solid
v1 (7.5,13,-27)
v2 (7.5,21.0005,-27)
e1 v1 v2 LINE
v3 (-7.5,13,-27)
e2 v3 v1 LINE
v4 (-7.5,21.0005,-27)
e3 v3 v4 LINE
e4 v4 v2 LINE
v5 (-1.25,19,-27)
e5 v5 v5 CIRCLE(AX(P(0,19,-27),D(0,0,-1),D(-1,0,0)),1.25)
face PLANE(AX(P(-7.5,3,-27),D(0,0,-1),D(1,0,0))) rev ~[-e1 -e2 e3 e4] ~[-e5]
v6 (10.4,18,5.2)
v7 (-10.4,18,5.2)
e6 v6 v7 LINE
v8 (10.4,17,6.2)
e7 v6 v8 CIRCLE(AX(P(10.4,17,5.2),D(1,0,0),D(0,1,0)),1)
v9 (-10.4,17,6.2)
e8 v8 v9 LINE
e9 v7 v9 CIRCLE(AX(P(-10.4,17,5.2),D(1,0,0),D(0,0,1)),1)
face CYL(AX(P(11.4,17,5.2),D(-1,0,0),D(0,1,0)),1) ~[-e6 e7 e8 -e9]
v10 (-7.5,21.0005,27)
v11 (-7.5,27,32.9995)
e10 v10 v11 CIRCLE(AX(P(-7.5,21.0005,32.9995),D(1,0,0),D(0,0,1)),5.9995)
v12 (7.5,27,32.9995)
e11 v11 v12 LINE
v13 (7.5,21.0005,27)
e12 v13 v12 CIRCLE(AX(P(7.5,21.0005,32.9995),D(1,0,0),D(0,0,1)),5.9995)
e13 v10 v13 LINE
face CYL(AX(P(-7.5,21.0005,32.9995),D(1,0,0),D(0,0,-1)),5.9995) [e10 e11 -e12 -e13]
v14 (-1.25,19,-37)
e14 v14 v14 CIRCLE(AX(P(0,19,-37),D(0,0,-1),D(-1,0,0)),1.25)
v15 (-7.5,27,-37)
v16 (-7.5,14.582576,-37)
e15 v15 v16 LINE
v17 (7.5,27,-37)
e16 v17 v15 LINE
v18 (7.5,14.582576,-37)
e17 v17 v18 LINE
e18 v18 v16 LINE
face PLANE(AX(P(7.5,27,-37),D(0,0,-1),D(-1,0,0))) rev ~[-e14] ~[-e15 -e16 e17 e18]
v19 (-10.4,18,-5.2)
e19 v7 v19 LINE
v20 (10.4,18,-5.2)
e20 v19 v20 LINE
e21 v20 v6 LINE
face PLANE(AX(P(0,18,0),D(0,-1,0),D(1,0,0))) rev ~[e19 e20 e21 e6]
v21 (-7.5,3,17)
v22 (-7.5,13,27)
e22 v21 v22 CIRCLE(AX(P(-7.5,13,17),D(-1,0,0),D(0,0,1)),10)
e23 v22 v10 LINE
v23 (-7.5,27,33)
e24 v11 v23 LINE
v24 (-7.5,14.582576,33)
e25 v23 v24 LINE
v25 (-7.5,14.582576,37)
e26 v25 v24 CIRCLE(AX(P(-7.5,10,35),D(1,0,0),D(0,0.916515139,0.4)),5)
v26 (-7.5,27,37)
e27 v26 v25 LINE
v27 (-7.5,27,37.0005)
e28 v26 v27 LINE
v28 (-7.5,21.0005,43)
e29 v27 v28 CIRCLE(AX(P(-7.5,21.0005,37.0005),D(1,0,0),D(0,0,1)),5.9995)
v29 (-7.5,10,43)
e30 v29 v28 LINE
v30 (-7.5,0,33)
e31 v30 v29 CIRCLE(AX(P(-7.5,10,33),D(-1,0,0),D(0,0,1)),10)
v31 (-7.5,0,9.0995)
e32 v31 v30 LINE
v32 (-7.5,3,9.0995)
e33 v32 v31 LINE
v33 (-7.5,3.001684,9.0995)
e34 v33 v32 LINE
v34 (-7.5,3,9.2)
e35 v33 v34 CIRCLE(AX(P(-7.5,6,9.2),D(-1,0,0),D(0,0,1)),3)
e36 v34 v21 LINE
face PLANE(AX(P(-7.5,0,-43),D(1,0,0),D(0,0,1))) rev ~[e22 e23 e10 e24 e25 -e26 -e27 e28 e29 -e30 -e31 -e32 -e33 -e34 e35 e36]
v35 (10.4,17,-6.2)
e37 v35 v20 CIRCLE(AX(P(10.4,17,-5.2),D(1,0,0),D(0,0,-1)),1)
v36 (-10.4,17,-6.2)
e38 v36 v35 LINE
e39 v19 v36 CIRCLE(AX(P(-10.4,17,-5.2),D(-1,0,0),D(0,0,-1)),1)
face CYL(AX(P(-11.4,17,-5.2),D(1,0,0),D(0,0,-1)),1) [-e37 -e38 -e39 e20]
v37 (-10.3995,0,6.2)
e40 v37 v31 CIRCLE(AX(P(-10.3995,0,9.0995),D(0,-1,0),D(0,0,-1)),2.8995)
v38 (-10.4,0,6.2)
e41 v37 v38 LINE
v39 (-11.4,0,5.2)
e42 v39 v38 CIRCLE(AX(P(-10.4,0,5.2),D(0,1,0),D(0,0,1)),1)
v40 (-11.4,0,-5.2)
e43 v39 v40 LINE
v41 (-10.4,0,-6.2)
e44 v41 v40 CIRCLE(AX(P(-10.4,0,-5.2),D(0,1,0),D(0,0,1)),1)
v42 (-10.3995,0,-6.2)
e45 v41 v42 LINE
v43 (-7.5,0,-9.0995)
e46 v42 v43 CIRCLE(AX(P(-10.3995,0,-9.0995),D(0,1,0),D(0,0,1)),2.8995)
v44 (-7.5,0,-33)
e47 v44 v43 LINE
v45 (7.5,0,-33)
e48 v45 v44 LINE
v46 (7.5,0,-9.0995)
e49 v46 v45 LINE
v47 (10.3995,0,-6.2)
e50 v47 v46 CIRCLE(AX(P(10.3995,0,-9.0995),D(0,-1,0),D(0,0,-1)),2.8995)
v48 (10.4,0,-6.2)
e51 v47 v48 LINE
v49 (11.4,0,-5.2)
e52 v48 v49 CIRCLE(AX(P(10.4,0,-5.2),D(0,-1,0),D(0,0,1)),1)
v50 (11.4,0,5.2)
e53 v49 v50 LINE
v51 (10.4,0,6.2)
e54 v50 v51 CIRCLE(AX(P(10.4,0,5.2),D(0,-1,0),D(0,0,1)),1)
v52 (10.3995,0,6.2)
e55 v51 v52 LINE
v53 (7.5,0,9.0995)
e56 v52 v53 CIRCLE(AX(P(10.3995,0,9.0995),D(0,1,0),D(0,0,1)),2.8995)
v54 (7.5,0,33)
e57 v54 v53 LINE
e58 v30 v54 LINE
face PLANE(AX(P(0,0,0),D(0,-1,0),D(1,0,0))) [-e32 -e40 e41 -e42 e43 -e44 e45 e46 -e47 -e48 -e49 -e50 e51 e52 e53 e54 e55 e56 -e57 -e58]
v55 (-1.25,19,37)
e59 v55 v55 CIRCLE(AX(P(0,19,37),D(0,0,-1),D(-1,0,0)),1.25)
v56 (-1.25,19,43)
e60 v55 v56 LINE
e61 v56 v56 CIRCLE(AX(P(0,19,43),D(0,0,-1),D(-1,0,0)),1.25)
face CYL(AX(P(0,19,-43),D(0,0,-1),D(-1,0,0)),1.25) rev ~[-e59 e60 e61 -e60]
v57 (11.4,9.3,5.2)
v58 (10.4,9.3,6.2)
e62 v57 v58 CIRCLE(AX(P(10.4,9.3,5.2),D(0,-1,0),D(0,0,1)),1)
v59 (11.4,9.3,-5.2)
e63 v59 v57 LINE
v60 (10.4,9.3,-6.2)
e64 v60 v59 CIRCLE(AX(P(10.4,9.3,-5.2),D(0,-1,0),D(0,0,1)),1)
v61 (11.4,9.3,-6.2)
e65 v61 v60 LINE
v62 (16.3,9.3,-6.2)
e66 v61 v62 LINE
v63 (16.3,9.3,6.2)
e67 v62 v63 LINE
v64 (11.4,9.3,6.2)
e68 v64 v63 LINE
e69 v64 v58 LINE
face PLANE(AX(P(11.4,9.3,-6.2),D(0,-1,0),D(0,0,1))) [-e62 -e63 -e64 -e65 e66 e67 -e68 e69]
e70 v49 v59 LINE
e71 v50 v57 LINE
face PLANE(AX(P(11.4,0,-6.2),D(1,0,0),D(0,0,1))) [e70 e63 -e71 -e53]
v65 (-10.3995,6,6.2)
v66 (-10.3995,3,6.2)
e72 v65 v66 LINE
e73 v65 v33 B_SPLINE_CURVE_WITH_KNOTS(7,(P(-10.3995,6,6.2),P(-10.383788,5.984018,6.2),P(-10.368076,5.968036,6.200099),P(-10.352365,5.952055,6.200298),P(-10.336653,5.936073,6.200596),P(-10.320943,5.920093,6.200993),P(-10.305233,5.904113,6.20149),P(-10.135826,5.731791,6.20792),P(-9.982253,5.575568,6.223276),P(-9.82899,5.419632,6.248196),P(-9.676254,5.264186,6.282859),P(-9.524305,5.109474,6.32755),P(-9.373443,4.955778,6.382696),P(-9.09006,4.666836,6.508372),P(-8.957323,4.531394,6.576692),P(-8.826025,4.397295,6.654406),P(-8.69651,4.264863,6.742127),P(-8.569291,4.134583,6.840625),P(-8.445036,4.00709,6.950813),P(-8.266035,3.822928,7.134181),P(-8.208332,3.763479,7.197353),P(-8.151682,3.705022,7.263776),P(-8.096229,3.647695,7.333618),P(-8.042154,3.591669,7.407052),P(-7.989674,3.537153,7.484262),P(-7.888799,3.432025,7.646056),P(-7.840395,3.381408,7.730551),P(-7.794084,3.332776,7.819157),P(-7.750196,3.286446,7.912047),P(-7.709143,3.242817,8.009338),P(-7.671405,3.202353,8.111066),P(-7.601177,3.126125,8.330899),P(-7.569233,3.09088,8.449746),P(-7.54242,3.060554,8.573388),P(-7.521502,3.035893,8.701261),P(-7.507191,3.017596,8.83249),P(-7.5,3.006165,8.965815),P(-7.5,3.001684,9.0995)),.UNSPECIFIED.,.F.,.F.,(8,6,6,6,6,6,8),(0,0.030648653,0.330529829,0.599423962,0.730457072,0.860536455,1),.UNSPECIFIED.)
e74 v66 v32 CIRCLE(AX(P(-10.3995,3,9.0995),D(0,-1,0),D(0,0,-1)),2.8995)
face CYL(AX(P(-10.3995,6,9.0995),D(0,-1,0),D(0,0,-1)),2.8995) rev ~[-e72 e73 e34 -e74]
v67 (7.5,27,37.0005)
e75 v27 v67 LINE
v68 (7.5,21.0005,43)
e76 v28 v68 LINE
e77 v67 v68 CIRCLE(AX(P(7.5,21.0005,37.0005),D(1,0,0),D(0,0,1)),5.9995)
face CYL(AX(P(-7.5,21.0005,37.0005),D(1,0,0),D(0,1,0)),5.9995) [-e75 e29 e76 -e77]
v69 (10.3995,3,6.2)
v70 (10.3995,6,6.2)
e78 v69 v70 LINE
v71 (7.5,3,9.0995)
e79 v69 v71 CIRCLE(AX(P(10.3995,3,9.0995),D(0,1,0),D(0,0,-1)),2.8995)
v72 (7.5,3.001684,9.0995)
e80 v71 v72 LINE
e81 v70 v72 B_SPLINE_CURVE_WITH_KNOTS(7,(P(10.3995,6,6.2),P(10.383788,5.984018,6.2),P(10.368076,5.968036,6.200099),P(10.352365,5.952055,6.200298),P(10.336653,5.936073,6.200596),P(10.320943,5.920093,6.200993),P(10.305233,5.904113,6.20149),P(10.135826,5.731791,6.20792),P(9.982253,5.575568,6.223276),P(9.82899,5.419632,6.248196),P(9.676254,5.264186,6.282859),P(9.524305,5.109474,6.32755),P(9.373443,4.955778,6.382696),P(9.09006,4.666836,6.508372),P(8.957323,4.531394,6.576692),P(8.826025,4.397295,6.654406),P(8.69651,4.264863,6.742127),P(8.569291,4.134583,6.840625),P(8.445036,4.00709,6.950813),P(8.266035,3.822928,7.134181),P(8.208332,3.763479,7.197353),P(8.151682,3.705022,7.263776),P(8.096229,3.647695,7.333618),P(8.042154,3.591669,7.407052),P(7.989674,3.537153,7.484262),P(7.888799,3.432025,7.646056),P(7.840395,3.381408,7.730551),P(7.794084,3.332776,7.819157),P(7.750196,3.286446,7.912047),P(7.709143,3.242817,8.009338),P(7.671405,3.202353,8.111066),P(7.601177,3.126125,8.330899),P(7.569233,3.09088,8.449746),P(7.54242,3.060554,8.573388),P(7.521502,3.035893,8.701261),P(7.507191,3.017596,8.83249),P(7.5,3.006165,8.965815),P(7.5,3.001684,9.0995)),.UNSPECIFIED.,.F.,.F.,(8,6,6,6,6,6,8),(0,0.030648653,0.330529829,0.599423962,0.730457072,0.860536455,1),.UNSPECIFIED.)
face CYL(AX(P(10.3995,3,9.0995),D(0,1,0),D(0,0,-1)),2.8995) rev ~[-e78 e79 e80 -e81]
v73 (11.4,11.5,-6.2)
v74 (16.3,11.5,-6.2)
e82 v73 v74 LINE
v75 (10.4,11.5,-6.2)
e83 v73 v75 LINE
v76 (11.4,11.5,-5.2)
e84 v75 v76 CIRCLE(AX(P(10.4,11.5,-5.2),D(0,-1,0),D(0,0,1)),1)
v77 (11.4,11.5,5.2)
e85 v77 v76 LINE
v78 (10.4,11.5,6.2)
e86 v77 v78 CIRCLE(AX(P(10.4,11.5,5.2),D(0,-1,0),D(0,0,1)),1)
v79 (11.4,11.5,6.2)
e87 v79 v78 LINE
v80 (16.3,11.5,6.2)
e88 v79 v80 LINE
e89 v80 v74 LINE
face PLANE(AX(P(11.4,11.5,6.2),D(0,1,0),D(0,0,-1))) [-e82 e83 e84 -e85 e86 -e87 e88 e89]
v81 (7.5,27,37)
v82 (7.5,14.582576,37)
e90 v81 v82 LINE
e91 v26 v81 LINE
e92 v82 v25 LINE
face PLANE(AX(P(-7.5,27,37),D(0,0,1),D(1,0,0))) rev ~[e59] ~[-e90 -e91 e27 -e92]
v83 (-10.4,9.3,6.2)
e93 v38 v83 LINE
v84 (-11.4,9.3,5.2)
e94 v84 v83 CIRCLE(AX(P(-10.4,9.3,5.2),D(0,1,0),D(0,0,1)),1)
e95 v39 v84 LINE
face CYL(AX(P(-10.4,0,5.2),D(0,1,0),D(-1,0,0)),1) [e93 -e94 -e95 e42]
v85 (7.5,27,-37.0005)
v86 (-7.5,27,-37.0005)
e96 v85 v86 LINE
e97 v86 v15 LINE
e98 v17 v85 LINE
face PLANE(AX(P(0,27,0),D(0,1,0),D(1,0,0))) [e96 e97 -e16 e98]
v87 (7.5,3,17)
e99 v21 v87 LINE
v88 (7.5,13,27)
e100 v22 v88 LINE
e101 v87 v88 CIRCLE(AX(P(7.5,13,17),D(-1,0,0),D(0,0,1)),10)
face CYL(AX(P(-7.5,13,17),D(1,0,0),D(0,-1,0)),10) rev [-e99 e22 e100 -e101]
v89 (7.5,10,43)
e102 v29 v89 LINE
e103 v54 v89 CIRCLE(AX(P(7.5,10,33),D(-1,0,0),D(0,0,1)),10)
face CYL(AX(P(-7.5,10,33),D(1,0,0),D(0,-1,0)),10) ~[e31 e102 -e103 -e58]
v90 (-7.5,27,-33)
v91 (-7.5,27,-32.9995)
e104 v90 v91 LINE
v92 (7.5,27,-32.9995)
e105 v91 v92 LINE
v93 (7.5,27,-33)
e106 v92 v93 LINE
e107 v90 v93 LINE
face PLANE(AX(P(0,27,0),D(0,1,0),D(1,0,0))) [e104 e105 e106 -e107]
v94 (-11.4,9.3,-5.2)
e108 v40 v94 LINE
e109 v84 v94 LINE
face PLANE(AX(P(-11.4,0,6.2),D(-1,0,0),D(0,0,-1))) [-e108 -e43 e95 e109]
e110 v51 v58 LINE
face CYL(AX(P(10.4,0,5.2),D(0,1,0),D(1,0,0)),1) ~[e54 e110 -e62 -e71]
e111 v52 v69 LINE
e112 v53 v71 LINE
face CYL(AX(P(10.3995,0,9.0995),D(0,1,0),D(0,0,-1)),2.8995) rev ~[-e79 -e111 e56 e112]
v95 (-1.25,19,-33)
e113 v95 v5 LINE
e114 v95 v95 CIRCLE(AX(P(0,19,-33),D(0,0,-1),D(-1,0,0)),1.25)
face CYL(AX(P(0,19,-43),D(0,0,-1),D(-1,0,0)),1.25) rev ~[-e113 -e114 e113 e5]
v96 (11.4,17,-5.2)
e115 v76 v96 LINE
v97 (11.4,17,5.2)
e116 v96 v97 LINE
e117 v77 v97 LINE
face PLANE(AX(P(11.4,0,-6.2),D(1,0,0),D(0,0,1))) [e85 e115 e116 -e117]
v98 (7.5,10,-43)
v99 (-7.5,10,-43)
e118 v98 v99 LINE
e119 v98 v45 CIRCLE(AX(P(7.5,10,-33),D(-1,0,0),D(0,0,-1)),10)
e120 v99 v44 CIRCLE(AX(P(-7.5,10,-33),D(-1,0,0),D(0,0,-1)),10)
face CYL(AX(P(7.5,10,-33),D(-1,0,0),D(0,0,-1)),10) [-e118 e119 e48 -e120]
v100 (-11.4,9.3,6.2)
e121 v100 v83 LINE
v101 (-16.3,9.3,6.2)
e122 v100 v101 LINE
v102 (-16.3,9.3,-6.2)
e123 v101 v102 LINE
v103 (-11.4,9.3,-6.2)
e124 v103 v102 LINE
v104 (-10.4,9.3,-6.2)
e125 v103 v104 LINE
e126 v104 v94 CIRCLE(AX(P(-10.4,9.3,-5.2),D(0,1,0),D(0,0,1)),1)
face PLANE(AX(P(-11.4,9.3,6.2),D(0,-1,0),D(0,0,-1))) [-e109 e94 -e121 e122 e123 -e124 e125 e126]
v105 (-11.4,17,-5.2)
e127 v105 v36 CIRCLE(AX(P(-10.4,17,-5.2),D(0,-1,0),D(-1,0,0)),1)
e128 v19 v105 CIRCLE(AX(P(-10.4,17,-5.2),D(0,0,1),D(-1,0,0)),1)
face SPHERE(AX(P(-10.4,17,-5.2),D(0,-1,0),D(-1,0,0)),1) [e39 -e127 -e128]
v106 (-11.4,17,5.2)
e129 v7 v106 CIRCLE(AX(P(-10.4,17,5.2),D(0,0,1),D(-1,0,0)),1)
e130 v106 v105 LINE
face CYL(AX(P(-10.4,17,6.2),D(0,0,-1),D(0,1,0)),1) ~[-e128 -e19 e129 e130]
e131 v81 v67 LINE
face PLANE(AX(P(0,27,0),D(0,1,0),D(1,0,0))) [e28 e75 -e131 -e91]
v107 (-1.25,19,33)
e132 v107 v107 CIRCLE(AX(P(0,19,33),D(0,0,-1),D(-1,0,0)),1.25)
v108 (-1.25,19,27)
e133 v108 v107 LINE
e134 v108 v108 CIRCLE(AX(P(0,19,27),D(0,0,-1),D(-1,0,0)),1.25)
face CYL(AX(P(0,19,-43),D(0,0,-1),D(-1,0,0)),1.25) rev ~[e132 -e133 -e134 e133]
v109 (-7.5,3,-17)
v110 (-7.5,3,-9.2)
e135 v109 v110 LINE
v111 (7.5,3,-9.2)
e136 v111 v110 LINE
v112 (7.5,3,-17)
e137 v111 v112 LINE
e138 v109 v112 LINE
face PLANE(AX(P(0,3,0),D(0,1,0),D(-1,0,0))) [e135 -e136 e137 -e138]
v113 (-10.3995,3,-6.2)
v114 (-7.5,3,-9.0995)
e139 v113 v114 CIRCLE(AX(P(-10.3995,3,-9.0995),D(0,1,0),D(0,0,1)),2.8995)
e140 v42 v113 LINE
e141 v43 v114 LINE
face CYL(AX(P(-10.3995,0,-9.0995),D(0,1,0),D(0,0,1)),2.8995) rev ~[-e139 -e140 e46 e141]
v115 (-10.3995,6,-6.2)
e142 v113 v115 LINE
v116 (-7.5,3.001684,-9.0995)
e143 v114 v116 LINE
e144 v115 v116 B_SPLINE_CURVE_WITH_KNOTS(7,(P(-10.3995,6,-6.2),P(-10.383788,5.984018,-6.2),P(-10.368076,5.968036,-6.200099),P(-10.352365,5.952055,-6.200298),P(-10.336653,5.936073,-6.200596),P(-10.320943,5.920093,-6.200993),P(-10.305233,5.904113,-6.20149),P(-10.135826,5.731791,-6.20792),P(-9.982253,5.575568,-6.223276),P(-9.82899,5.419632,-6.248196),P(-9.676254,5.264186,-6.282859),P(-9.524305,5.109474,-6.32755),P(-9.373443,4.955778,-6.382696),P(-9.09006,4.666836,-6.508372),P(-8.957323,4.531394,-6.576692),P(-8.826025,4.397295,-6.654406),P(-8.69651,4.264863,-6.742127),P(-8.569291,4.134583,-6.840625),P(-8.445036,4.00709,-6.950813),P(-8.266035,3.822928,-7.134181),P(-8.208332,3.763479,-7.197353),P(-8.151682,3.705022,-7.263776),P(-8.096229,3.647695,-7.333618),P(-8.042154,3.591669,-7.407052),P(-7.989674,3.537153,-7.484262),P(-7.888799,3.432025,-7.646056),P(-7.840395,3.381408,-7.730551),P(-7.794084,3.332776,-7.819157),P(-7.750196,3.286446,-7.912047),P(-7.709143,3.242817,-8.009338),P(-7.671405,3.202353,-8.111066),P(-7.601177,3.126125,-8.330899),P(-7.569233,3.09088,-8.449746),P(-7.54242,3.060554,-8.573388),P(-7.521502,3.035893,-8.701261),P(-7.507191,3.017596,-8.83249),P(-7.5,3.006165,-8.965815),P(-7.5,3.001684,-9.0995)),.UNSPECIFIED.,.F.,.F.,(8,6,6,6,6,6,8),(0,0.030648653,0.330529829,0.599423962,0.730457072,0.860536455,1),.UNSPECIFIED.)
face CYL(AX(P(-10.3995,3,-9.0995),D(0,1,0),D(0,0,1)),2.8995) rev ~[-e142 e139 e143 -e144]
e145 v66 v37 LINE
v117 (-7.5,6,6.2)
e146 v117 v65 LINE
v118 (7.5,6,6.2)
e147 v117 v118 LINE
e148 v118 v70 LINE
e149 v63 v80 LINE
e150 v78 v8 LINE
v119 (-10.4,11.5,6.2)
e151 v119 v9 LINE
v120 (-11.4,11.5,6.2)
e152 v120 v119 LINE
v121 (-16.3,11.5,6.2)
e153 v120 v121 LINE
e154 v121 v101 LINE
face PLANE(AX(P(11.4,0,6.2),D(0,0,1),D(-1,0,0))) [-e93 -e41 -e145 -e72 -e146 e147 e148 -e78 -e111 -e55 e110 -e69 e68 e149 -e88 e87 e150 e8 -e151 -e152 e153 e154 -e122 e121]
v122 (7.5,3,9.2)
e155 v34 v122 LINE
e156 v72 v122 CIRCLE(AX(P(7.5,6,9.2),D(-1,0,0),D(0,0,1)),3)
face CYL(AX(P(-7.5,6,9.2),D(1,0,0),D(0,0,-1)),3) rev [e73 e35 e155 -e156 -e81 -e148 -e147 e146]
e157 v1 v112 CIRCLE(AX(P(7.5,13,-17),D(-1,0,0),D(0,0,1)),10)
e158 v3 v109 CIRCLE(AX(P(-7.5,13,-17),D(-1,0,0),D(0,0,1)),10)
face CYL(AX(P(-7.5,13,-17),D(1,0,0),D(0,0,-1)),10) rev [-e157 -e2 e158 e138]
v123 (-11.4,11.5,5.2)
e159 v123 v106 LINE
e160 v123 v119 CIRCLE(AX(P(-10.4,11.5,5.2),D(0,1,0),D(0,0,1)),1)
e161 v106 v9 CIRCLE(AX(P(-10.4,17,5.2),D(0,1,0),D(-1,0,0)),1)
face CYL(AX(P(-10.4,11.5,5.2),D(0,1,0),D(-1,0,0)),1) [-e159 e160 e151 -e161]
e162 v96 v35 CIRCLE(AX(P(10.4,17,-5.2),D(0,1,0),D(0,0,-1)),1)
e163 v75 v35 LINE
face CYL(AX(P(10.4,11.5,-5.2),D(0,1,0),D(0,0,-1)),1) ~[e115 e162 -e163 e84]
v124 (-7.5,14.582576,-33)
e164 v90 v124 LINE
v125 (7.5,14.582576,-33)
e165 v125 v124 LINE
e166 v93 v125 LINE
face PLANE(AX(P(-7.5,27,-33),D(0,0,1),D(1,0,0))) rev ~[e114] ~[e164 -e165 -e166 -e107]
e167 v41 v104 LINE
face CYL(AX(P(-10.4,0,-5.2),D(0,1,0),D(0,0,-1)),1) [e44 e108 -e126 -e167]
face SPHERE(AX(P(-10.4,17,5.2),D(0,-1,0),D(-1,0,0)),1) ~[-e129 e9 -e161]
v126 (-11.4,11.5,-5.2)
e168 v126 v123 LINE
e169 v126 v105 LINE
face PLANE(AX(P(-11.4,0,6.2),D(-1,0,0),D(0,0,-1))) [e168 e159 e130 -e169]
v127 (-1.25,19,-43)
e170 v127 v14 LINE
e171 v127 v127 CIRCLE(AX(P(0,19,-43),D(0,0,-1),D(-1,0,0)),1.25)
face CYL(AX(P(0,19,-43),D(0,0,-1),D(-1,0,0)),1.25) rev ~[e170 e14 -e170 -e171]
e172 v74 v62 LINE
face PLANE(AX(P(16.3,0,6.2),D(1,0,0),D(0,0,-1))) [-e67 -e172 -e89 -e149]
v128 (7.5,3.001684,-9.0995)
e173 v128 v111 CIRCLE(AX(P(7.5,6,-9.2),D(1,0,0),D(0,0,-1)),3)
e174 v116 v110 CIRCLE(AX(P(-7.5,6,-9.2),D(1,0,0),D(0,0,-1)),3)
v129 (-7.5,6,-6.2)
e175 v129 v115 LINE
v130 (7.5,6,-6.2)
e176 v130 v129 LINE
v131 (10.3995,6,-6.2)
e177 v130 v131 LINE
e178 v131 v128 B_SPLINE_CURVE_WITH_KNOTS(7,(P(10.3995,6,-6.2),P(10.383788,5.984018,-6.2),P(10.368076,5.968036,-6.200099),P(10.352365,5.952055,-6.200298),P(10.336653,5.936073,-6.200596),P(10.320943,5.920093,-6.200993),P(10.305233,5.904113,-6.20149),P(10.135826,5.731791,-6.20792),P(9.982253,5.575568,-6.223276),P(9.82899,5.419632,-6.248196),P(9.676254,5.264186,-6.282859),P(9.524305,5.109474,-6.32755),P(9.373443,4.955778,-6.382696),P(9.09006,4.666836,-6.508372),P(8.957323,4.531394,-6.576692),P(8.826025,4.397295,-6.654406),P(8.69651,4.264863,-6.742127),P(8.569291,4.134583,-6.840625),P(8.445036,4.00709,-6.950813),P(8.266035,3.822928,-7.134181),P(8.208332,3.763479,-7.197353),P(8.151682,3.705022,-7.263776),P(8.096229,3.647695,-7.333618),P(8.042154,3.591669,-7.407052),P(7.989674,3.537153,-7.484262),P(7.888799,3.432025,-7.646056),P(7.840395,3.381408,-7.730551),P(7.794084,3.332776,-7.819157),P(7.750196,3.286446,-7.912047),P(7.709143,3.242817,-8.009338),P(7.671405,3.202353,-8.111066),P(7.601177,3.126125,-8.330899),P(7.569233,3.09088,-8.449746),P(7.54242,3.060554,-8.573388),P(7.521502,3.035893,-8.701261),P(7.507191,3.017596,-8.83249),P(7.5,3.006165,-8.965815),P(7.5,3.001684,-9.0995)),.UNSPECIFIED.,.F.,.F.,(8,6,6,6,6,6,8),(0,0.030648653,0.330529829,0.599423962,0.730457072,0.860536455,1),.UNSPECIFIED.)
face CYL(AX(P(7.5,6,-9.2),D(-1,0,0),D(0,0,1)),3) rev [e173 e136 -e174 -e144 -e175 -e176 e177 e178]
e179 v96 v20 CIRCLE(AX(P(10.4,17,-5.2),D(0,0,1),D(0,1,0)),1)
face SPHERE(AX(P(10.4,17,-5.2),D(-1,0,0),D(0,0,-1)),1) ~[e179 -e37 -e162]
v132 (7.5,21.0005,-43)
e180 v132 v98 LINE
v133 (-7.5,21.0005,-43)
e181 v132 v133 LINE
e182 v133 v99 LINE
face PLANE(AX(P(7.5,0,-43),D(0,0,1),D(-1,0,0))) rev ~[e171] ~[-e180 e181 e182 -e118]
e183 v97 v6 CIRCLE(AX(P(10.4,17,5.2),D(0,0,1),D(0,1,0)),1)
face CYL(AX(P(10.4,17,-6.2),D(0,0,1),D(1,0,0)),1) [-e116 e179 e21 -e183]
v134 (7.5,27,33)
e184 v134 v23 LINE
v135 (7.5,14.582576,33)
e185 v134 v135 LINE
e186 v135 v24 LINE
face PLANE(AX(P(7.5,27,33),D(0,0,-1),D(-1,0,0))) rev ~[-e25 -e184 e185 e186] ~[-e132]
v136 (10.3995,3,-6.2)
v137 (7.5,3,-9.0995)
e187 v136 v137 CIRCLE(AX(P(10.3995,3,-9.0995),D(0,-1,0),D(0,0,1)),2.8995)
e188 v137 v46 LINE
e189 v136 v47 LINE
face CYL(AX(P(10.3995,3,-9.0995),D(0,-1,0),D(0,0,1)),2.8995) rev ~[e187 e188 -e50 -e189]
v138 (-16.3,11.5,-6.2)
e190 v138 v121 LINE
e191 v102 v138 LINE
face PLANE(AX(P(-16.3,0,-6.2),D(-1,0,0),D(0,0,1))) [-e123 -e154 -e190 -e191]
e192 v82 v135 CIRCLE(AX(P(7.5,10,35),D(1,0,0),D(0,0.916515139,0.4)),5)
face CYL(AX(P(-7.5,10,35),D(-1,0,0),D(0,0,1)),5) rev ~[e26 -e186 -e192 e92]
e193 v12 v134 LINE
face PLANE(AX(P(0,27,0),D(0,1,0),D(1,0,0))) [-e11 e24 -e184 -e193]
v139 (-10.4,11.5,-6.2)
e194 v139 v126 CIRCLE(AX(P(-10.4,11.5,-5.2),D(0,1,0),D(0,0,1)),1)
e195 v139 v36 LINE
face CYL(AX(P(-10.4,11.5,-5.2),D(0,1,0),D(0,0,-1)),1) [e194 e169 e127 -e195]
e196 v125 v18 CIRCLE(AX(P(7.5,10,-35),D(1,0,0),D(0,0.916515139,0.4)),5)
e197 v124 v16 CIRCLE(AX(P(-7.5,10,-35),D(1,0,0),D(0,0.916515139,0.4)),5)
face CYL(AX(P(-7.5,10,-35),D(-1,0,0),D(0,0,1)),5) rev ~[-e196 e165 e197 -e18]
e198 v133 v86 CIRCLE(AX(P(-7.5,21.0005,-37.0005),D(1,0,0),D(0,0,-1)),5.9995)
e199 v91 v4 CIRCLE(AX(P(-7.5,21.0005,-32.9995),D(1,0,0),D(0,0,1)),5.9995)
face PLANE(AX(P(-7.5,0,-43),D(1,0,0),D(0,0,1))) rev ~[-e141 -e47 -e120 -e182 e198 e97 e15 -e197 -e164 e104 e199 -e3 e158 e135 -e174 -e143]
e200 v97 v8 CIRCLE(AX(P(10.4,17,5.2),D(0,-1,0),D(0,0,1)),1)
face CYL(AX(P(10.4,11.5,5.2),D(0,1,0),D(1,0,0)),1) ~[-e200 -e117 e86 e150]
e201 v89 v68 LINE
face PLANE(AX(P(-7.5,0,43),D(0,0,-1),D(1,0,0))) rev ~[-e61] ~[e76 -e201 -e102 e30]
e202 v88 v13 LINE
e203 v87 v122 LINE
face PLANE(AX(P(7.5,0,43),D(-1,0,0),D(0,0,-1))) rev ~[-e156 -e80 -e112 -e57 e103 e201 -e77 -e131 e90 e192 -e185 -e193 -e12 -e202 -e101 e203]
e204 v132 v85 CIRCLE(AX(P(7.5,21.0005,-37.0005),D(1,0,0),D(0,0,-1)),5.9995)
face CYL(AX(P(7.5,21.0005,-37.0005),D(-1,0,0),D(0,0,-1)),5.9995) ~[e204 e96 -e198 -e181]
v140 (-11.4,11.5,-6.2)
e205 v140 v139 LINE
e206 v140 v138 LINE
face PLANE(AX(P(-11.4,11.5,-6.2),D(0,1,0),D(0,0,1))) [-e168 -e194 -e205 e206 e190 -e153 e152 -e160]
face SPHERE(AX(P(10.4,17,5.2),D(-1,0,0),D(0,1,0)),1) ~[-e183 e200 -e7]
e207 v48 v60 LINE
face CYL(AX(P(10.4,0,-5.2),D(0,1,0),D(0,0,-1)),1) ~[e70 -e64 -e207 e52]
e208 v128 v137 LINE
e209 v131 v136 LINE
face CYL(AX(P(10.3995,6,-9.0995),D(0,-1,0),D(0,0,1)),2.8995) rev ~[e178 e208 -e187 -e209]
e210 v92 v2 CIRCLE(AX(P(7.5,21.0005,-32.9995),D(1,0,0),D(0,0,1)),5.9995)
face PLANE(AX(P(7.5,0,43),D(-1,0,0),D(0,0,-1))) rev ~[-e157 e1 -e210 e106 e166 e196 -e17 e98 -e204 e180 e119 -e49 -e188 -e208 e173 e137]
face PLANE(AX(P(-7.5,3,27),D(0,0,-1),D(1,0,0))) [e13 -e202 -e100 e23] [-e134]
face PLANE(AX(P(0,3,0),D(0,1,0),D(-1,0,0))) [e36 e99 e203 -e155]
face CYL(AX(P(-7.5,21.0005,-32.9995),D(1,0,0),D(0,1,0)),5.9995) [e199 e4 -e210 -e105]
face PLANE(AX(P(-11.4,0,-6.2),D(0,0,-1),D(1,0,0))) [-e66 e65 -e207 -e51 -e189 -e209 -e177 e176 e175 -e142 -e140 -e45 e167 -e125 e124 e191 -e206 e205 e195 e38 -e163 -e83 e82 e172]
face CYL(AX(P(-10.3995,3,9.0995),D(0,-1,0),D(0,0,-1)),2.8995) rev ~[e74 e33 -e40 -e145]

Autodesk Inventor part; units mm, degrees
ref_plane "YZ Plane" through (0, 0, 0) normal (1, 0, 0) x (0, 1, 0)
ref_plane "XZ Plane" through (0, 0, 0) normal (0, 1, 0) x (-1, 0, 0)
ref_plane "XY Plane" through (0, 0, 0) normal (0, 0, 1) x (1, 0, 0)
sketch "Schizzo1" plane through (0, 0, 0) normal (0, 1, 0) x (-1, 0, 0)
  line L0 (7.5, 43) -> (-7.5, 43)
  line L1 (-7.5, 43) -> (-7.5, -43)
  line L2 (-7.5, -43) -> (7.5, -43)
  line L3 (7.5, -43) -> (7.5, 43)
  line L4 (7.5, 43) -> (-7.5, -43) construction
  line L5 (-7.5, 43) -> (7.5, -43) construction
  point P0 (0, 0)
  dimension "d0" = 15
  dimension "d1" = 86
extrude "Estrusione1" add sketch "Schizzo1" along normal blind 3
sketch "Schizzo2" plane through (0, 3, 0) normal (0, 1, 0) x (1, 0, 0)
  line L0 (7.5, 43) -> (-7.5, 43)
  line L1 (-7.5, 43) -> (-7.5, 27)
  line L2 (-7.5, 27) -> (7.5, 27)
  line L3 (7.5, 27) -> (7.5, 43)
  line L4 (-7.5, 43) -> (-7.5, -43) projected
  line L5 (7.5, 43) -> (-7.5, 43) projected
  line L6 (-7.5, -43) -> (7.5, -43) projected
  line L7 (7.5, -43) -> (-7.5, -43)
  line L8 (-7.5, -43) -> (-7.5, -27)
  line L9 (-7.5, -27) -> (7.5, -27)
  line L10 (7.5, -27) -> (7.5, -43)
  point P0 (0, 0)
  dimension "d4" = 15
  dimension "d5" = 16
  dimension "d6" = 0
  dimension "d7" = 0
  dimension "d8" = 16
extrude "Estrusione2" add sketch "Schizzo2" along normal blind 24
sketch "Schizzo3" plane through (-7.5, 0, -43) normal (-1, 0, 0) x (0, 0, 1)
  line L0 (0, 0) -> (86, 0) projected
  line L1 (0, 0) -> (0, 27) projected
  line L2 (86, 0) -> (86, 27) projected
  circle A0 centre (8, 10) radius 5
  circle A1 centre (78, 10) radius 5
  point P0 (43, 0)
  dimension "d11" = 10
  dimension "d12" = 8
  dimension "d13" = 10
  dimension "d14" = 8
  dimension "d15" = 10
  dimension "d16" = 10
extrude "Estrusione3" cut sketch "Schizzo3" against normal blind 30
fillet "Raccordo1" radius 10 2 edges at (0, 3, -27) (0, 3, 27)
fillet "Raccordo2" radius 10 2 edges at (0, 0, -43) (0, 0, 43)
sketch "Schizzo4" plane through (0, 27, 0) normal (0, 1, 0) x (1, 0, 0)
  line L0 (7.5, 37) -> (-7.5, 37)
  line L1 (-7.5, 37) -> (-7.5, 33)
  line L2 (-7.5, 33) -> (7.5, 33)
  line L3 (7.5, 33) -> (7.5, 37)
  line L4 (7.5, 27) -> (7.5, 43) projected
  line L5 (7.5, 43) -> (-7.5, 43) projected
  line L6 (7.5, -33) -> (-7.5, -33)
  line L7 (-7.5, -33) -> (-7.5, -37)
  line L8 (-7.5, -37) -> (7.5, -37)
  line L9 (7.5, -37) -> (7.5, -33)
  line L10 (7.5, -43) -> (7.5, -27) projected
  line L11 (-7.5, -43) -> (7.5, -43) projected
  point P0 (0, 0)
  dimension "d21" = 15
  dimension "d22" = 4
  dimension "d23" = 0
  dimension "d24" = 6
  dimension "d25" = 15
  dimension "d26" = 4
  dimension "d27" = 0
  dimension "d28" = 6
extrude "Estrusione4" cut sketch "Schizzo4" against normal blind 15
sketch "Schizzo5" plane through (7.5, 27, -43) normal (0, 0, -1) x (-1, 0, 0)
  line L0 (0, 0) -> (15, 0) projected
  line L1 (15, -17) -> (15, 0) projected
  circle A0 centre (7.5, -8) radius 1.25
  point P0 (7.5, -27)
  dimension "d31" = 8
  dimension "d32" = 7.5
  dimension "d33" = 2.5
extrude "Estrusione5" cut sketch "Schizzo5" against normal blind 86
fillet "Raccordo3" radius 6 4 edges at (0, 27, 43) (0, 27, 27) (0, 27, -27) (0, 27, -43)
sketch "Schizzo6" plane through (0, 0, 0) normal (0, -1, 0) x (1, 0, 0)
  line L0 (-11.4, -6.2) -> (11.4, -6.2)
  line L1 (11.4, -6.2) -> (11.4, 6.2)
  line L2 (11.4, 6.2) -> (-11.4, 6.2)
  line L3 (-11.4, 6.2) -> (-11.4, -6.2)
  line L4 (-11.4, -6.2) -> (11.4, 6.2) construction
  line L5 (11.4, -6.2) -> (-11.4, 6.2) construction
  point P0 (0, 0)
  dimension "d37" = 22.8
  dimension "d38" = 12.4
extrude "Estrusione6" add sketch "Schizzo6" against normal blind 18
sketch "Schizzo7" plane through (11.4, 0, 6.2) normal (1, 0, 0) x (0, 0, -1)
  line L0 (0, 11.5) -> (12.4, 11.5)
  line L1 (12.4, 11.5) -> (12.4, 9.3)
  line L2 (12.4, 9.3) -> (0, 9.3)
  line L3 (0, 9.3) -> (0, 11.5)
  line L4 (0, 11.5) -> (12.4, 9.3) construction
  line L5 (12.4, 11.5) -> (0, 9.3) construction
  line L6 (12.4, 0) -> (0, 0) projected
  line L7 (12.4, 0) -> (12.4, 18) projected
  point P0 (6.2, 0)
  point P1 (6.2, 10.4)
  dimension "d41" = 12.4
  dimension "d42" = 2.2
  dimension "d43" = 9.3
  dimension "d44" = 0
extrude "Estrusione7" add sketch "Schizzo7" along normal blind 4.9
sketch "Schizzo8" plane through (-11.4, 0, -6.2) normal (-1, 0, 0) x (0, 0, 1)
  line L0 (0, 11.5) -> (12.4, 11.5)
  line L1 (12.4, 11.5) -> (12.4, 9.3)
  line L2 (12.4, 9.3) -> (0, 9.3)
  line L3 (0, 9.3) -> (0, 11.5)
  line L4 (0, 11.5) -> (12.4, 9.3) construction
  line L5 (12.4, 11.5) -> (0, 9.3) construction
  line L6 (12.4, 0) -> (0, 0) projected
  line L7 (12.4, 0) -> (12.4, 18) projected
  point P0 (6.2, 0)
  point P1 (6.2, 10.4)
  dimension "d47" = 12.4
  dimension "d48" = 2.2
  dimension "d49" = 9.3
  dimension "d50" = 0
extrude "Estrusione8" add sketch "Schizzo8" along normal blind 4.9
fillet "Raccordo4" radius 3 2 edges at (0, 3, 6.2) (0, 3, -6.2)
fillet "Raccordo5" radius 1 12 edges at (-11.4, 4.65, 6.2) (-11.4, 14.75, 6.2) (-11.4, 14.75, -6.2) (-11.4, 4.65, -6.2) (-11.4, 18, 0) (0, 18, -6.2) (0, 18, 6.2) (11.4, 4.65, -6.2) (11.4, 14.75, -6.2) (11.4, 18, 0) (11.4, 14.75, 6.2) (11.4, 4.65, 6.2)
fillet "Raccordo6" radius 2.9 8 edges at (-7.5, 4.5, -6.2) (-7.5, 1.5, -6.2) (-7.5, 1.5, 6.2) (-7.5, 4.5, 6.2) (7.5, 4.5, 6.2) (7.5, 1.5, 6.2) (7.5, 1.5, -6.2) (7.5, 4.5, -6.2)
properties part number "SupportGimbalAdafruit"
